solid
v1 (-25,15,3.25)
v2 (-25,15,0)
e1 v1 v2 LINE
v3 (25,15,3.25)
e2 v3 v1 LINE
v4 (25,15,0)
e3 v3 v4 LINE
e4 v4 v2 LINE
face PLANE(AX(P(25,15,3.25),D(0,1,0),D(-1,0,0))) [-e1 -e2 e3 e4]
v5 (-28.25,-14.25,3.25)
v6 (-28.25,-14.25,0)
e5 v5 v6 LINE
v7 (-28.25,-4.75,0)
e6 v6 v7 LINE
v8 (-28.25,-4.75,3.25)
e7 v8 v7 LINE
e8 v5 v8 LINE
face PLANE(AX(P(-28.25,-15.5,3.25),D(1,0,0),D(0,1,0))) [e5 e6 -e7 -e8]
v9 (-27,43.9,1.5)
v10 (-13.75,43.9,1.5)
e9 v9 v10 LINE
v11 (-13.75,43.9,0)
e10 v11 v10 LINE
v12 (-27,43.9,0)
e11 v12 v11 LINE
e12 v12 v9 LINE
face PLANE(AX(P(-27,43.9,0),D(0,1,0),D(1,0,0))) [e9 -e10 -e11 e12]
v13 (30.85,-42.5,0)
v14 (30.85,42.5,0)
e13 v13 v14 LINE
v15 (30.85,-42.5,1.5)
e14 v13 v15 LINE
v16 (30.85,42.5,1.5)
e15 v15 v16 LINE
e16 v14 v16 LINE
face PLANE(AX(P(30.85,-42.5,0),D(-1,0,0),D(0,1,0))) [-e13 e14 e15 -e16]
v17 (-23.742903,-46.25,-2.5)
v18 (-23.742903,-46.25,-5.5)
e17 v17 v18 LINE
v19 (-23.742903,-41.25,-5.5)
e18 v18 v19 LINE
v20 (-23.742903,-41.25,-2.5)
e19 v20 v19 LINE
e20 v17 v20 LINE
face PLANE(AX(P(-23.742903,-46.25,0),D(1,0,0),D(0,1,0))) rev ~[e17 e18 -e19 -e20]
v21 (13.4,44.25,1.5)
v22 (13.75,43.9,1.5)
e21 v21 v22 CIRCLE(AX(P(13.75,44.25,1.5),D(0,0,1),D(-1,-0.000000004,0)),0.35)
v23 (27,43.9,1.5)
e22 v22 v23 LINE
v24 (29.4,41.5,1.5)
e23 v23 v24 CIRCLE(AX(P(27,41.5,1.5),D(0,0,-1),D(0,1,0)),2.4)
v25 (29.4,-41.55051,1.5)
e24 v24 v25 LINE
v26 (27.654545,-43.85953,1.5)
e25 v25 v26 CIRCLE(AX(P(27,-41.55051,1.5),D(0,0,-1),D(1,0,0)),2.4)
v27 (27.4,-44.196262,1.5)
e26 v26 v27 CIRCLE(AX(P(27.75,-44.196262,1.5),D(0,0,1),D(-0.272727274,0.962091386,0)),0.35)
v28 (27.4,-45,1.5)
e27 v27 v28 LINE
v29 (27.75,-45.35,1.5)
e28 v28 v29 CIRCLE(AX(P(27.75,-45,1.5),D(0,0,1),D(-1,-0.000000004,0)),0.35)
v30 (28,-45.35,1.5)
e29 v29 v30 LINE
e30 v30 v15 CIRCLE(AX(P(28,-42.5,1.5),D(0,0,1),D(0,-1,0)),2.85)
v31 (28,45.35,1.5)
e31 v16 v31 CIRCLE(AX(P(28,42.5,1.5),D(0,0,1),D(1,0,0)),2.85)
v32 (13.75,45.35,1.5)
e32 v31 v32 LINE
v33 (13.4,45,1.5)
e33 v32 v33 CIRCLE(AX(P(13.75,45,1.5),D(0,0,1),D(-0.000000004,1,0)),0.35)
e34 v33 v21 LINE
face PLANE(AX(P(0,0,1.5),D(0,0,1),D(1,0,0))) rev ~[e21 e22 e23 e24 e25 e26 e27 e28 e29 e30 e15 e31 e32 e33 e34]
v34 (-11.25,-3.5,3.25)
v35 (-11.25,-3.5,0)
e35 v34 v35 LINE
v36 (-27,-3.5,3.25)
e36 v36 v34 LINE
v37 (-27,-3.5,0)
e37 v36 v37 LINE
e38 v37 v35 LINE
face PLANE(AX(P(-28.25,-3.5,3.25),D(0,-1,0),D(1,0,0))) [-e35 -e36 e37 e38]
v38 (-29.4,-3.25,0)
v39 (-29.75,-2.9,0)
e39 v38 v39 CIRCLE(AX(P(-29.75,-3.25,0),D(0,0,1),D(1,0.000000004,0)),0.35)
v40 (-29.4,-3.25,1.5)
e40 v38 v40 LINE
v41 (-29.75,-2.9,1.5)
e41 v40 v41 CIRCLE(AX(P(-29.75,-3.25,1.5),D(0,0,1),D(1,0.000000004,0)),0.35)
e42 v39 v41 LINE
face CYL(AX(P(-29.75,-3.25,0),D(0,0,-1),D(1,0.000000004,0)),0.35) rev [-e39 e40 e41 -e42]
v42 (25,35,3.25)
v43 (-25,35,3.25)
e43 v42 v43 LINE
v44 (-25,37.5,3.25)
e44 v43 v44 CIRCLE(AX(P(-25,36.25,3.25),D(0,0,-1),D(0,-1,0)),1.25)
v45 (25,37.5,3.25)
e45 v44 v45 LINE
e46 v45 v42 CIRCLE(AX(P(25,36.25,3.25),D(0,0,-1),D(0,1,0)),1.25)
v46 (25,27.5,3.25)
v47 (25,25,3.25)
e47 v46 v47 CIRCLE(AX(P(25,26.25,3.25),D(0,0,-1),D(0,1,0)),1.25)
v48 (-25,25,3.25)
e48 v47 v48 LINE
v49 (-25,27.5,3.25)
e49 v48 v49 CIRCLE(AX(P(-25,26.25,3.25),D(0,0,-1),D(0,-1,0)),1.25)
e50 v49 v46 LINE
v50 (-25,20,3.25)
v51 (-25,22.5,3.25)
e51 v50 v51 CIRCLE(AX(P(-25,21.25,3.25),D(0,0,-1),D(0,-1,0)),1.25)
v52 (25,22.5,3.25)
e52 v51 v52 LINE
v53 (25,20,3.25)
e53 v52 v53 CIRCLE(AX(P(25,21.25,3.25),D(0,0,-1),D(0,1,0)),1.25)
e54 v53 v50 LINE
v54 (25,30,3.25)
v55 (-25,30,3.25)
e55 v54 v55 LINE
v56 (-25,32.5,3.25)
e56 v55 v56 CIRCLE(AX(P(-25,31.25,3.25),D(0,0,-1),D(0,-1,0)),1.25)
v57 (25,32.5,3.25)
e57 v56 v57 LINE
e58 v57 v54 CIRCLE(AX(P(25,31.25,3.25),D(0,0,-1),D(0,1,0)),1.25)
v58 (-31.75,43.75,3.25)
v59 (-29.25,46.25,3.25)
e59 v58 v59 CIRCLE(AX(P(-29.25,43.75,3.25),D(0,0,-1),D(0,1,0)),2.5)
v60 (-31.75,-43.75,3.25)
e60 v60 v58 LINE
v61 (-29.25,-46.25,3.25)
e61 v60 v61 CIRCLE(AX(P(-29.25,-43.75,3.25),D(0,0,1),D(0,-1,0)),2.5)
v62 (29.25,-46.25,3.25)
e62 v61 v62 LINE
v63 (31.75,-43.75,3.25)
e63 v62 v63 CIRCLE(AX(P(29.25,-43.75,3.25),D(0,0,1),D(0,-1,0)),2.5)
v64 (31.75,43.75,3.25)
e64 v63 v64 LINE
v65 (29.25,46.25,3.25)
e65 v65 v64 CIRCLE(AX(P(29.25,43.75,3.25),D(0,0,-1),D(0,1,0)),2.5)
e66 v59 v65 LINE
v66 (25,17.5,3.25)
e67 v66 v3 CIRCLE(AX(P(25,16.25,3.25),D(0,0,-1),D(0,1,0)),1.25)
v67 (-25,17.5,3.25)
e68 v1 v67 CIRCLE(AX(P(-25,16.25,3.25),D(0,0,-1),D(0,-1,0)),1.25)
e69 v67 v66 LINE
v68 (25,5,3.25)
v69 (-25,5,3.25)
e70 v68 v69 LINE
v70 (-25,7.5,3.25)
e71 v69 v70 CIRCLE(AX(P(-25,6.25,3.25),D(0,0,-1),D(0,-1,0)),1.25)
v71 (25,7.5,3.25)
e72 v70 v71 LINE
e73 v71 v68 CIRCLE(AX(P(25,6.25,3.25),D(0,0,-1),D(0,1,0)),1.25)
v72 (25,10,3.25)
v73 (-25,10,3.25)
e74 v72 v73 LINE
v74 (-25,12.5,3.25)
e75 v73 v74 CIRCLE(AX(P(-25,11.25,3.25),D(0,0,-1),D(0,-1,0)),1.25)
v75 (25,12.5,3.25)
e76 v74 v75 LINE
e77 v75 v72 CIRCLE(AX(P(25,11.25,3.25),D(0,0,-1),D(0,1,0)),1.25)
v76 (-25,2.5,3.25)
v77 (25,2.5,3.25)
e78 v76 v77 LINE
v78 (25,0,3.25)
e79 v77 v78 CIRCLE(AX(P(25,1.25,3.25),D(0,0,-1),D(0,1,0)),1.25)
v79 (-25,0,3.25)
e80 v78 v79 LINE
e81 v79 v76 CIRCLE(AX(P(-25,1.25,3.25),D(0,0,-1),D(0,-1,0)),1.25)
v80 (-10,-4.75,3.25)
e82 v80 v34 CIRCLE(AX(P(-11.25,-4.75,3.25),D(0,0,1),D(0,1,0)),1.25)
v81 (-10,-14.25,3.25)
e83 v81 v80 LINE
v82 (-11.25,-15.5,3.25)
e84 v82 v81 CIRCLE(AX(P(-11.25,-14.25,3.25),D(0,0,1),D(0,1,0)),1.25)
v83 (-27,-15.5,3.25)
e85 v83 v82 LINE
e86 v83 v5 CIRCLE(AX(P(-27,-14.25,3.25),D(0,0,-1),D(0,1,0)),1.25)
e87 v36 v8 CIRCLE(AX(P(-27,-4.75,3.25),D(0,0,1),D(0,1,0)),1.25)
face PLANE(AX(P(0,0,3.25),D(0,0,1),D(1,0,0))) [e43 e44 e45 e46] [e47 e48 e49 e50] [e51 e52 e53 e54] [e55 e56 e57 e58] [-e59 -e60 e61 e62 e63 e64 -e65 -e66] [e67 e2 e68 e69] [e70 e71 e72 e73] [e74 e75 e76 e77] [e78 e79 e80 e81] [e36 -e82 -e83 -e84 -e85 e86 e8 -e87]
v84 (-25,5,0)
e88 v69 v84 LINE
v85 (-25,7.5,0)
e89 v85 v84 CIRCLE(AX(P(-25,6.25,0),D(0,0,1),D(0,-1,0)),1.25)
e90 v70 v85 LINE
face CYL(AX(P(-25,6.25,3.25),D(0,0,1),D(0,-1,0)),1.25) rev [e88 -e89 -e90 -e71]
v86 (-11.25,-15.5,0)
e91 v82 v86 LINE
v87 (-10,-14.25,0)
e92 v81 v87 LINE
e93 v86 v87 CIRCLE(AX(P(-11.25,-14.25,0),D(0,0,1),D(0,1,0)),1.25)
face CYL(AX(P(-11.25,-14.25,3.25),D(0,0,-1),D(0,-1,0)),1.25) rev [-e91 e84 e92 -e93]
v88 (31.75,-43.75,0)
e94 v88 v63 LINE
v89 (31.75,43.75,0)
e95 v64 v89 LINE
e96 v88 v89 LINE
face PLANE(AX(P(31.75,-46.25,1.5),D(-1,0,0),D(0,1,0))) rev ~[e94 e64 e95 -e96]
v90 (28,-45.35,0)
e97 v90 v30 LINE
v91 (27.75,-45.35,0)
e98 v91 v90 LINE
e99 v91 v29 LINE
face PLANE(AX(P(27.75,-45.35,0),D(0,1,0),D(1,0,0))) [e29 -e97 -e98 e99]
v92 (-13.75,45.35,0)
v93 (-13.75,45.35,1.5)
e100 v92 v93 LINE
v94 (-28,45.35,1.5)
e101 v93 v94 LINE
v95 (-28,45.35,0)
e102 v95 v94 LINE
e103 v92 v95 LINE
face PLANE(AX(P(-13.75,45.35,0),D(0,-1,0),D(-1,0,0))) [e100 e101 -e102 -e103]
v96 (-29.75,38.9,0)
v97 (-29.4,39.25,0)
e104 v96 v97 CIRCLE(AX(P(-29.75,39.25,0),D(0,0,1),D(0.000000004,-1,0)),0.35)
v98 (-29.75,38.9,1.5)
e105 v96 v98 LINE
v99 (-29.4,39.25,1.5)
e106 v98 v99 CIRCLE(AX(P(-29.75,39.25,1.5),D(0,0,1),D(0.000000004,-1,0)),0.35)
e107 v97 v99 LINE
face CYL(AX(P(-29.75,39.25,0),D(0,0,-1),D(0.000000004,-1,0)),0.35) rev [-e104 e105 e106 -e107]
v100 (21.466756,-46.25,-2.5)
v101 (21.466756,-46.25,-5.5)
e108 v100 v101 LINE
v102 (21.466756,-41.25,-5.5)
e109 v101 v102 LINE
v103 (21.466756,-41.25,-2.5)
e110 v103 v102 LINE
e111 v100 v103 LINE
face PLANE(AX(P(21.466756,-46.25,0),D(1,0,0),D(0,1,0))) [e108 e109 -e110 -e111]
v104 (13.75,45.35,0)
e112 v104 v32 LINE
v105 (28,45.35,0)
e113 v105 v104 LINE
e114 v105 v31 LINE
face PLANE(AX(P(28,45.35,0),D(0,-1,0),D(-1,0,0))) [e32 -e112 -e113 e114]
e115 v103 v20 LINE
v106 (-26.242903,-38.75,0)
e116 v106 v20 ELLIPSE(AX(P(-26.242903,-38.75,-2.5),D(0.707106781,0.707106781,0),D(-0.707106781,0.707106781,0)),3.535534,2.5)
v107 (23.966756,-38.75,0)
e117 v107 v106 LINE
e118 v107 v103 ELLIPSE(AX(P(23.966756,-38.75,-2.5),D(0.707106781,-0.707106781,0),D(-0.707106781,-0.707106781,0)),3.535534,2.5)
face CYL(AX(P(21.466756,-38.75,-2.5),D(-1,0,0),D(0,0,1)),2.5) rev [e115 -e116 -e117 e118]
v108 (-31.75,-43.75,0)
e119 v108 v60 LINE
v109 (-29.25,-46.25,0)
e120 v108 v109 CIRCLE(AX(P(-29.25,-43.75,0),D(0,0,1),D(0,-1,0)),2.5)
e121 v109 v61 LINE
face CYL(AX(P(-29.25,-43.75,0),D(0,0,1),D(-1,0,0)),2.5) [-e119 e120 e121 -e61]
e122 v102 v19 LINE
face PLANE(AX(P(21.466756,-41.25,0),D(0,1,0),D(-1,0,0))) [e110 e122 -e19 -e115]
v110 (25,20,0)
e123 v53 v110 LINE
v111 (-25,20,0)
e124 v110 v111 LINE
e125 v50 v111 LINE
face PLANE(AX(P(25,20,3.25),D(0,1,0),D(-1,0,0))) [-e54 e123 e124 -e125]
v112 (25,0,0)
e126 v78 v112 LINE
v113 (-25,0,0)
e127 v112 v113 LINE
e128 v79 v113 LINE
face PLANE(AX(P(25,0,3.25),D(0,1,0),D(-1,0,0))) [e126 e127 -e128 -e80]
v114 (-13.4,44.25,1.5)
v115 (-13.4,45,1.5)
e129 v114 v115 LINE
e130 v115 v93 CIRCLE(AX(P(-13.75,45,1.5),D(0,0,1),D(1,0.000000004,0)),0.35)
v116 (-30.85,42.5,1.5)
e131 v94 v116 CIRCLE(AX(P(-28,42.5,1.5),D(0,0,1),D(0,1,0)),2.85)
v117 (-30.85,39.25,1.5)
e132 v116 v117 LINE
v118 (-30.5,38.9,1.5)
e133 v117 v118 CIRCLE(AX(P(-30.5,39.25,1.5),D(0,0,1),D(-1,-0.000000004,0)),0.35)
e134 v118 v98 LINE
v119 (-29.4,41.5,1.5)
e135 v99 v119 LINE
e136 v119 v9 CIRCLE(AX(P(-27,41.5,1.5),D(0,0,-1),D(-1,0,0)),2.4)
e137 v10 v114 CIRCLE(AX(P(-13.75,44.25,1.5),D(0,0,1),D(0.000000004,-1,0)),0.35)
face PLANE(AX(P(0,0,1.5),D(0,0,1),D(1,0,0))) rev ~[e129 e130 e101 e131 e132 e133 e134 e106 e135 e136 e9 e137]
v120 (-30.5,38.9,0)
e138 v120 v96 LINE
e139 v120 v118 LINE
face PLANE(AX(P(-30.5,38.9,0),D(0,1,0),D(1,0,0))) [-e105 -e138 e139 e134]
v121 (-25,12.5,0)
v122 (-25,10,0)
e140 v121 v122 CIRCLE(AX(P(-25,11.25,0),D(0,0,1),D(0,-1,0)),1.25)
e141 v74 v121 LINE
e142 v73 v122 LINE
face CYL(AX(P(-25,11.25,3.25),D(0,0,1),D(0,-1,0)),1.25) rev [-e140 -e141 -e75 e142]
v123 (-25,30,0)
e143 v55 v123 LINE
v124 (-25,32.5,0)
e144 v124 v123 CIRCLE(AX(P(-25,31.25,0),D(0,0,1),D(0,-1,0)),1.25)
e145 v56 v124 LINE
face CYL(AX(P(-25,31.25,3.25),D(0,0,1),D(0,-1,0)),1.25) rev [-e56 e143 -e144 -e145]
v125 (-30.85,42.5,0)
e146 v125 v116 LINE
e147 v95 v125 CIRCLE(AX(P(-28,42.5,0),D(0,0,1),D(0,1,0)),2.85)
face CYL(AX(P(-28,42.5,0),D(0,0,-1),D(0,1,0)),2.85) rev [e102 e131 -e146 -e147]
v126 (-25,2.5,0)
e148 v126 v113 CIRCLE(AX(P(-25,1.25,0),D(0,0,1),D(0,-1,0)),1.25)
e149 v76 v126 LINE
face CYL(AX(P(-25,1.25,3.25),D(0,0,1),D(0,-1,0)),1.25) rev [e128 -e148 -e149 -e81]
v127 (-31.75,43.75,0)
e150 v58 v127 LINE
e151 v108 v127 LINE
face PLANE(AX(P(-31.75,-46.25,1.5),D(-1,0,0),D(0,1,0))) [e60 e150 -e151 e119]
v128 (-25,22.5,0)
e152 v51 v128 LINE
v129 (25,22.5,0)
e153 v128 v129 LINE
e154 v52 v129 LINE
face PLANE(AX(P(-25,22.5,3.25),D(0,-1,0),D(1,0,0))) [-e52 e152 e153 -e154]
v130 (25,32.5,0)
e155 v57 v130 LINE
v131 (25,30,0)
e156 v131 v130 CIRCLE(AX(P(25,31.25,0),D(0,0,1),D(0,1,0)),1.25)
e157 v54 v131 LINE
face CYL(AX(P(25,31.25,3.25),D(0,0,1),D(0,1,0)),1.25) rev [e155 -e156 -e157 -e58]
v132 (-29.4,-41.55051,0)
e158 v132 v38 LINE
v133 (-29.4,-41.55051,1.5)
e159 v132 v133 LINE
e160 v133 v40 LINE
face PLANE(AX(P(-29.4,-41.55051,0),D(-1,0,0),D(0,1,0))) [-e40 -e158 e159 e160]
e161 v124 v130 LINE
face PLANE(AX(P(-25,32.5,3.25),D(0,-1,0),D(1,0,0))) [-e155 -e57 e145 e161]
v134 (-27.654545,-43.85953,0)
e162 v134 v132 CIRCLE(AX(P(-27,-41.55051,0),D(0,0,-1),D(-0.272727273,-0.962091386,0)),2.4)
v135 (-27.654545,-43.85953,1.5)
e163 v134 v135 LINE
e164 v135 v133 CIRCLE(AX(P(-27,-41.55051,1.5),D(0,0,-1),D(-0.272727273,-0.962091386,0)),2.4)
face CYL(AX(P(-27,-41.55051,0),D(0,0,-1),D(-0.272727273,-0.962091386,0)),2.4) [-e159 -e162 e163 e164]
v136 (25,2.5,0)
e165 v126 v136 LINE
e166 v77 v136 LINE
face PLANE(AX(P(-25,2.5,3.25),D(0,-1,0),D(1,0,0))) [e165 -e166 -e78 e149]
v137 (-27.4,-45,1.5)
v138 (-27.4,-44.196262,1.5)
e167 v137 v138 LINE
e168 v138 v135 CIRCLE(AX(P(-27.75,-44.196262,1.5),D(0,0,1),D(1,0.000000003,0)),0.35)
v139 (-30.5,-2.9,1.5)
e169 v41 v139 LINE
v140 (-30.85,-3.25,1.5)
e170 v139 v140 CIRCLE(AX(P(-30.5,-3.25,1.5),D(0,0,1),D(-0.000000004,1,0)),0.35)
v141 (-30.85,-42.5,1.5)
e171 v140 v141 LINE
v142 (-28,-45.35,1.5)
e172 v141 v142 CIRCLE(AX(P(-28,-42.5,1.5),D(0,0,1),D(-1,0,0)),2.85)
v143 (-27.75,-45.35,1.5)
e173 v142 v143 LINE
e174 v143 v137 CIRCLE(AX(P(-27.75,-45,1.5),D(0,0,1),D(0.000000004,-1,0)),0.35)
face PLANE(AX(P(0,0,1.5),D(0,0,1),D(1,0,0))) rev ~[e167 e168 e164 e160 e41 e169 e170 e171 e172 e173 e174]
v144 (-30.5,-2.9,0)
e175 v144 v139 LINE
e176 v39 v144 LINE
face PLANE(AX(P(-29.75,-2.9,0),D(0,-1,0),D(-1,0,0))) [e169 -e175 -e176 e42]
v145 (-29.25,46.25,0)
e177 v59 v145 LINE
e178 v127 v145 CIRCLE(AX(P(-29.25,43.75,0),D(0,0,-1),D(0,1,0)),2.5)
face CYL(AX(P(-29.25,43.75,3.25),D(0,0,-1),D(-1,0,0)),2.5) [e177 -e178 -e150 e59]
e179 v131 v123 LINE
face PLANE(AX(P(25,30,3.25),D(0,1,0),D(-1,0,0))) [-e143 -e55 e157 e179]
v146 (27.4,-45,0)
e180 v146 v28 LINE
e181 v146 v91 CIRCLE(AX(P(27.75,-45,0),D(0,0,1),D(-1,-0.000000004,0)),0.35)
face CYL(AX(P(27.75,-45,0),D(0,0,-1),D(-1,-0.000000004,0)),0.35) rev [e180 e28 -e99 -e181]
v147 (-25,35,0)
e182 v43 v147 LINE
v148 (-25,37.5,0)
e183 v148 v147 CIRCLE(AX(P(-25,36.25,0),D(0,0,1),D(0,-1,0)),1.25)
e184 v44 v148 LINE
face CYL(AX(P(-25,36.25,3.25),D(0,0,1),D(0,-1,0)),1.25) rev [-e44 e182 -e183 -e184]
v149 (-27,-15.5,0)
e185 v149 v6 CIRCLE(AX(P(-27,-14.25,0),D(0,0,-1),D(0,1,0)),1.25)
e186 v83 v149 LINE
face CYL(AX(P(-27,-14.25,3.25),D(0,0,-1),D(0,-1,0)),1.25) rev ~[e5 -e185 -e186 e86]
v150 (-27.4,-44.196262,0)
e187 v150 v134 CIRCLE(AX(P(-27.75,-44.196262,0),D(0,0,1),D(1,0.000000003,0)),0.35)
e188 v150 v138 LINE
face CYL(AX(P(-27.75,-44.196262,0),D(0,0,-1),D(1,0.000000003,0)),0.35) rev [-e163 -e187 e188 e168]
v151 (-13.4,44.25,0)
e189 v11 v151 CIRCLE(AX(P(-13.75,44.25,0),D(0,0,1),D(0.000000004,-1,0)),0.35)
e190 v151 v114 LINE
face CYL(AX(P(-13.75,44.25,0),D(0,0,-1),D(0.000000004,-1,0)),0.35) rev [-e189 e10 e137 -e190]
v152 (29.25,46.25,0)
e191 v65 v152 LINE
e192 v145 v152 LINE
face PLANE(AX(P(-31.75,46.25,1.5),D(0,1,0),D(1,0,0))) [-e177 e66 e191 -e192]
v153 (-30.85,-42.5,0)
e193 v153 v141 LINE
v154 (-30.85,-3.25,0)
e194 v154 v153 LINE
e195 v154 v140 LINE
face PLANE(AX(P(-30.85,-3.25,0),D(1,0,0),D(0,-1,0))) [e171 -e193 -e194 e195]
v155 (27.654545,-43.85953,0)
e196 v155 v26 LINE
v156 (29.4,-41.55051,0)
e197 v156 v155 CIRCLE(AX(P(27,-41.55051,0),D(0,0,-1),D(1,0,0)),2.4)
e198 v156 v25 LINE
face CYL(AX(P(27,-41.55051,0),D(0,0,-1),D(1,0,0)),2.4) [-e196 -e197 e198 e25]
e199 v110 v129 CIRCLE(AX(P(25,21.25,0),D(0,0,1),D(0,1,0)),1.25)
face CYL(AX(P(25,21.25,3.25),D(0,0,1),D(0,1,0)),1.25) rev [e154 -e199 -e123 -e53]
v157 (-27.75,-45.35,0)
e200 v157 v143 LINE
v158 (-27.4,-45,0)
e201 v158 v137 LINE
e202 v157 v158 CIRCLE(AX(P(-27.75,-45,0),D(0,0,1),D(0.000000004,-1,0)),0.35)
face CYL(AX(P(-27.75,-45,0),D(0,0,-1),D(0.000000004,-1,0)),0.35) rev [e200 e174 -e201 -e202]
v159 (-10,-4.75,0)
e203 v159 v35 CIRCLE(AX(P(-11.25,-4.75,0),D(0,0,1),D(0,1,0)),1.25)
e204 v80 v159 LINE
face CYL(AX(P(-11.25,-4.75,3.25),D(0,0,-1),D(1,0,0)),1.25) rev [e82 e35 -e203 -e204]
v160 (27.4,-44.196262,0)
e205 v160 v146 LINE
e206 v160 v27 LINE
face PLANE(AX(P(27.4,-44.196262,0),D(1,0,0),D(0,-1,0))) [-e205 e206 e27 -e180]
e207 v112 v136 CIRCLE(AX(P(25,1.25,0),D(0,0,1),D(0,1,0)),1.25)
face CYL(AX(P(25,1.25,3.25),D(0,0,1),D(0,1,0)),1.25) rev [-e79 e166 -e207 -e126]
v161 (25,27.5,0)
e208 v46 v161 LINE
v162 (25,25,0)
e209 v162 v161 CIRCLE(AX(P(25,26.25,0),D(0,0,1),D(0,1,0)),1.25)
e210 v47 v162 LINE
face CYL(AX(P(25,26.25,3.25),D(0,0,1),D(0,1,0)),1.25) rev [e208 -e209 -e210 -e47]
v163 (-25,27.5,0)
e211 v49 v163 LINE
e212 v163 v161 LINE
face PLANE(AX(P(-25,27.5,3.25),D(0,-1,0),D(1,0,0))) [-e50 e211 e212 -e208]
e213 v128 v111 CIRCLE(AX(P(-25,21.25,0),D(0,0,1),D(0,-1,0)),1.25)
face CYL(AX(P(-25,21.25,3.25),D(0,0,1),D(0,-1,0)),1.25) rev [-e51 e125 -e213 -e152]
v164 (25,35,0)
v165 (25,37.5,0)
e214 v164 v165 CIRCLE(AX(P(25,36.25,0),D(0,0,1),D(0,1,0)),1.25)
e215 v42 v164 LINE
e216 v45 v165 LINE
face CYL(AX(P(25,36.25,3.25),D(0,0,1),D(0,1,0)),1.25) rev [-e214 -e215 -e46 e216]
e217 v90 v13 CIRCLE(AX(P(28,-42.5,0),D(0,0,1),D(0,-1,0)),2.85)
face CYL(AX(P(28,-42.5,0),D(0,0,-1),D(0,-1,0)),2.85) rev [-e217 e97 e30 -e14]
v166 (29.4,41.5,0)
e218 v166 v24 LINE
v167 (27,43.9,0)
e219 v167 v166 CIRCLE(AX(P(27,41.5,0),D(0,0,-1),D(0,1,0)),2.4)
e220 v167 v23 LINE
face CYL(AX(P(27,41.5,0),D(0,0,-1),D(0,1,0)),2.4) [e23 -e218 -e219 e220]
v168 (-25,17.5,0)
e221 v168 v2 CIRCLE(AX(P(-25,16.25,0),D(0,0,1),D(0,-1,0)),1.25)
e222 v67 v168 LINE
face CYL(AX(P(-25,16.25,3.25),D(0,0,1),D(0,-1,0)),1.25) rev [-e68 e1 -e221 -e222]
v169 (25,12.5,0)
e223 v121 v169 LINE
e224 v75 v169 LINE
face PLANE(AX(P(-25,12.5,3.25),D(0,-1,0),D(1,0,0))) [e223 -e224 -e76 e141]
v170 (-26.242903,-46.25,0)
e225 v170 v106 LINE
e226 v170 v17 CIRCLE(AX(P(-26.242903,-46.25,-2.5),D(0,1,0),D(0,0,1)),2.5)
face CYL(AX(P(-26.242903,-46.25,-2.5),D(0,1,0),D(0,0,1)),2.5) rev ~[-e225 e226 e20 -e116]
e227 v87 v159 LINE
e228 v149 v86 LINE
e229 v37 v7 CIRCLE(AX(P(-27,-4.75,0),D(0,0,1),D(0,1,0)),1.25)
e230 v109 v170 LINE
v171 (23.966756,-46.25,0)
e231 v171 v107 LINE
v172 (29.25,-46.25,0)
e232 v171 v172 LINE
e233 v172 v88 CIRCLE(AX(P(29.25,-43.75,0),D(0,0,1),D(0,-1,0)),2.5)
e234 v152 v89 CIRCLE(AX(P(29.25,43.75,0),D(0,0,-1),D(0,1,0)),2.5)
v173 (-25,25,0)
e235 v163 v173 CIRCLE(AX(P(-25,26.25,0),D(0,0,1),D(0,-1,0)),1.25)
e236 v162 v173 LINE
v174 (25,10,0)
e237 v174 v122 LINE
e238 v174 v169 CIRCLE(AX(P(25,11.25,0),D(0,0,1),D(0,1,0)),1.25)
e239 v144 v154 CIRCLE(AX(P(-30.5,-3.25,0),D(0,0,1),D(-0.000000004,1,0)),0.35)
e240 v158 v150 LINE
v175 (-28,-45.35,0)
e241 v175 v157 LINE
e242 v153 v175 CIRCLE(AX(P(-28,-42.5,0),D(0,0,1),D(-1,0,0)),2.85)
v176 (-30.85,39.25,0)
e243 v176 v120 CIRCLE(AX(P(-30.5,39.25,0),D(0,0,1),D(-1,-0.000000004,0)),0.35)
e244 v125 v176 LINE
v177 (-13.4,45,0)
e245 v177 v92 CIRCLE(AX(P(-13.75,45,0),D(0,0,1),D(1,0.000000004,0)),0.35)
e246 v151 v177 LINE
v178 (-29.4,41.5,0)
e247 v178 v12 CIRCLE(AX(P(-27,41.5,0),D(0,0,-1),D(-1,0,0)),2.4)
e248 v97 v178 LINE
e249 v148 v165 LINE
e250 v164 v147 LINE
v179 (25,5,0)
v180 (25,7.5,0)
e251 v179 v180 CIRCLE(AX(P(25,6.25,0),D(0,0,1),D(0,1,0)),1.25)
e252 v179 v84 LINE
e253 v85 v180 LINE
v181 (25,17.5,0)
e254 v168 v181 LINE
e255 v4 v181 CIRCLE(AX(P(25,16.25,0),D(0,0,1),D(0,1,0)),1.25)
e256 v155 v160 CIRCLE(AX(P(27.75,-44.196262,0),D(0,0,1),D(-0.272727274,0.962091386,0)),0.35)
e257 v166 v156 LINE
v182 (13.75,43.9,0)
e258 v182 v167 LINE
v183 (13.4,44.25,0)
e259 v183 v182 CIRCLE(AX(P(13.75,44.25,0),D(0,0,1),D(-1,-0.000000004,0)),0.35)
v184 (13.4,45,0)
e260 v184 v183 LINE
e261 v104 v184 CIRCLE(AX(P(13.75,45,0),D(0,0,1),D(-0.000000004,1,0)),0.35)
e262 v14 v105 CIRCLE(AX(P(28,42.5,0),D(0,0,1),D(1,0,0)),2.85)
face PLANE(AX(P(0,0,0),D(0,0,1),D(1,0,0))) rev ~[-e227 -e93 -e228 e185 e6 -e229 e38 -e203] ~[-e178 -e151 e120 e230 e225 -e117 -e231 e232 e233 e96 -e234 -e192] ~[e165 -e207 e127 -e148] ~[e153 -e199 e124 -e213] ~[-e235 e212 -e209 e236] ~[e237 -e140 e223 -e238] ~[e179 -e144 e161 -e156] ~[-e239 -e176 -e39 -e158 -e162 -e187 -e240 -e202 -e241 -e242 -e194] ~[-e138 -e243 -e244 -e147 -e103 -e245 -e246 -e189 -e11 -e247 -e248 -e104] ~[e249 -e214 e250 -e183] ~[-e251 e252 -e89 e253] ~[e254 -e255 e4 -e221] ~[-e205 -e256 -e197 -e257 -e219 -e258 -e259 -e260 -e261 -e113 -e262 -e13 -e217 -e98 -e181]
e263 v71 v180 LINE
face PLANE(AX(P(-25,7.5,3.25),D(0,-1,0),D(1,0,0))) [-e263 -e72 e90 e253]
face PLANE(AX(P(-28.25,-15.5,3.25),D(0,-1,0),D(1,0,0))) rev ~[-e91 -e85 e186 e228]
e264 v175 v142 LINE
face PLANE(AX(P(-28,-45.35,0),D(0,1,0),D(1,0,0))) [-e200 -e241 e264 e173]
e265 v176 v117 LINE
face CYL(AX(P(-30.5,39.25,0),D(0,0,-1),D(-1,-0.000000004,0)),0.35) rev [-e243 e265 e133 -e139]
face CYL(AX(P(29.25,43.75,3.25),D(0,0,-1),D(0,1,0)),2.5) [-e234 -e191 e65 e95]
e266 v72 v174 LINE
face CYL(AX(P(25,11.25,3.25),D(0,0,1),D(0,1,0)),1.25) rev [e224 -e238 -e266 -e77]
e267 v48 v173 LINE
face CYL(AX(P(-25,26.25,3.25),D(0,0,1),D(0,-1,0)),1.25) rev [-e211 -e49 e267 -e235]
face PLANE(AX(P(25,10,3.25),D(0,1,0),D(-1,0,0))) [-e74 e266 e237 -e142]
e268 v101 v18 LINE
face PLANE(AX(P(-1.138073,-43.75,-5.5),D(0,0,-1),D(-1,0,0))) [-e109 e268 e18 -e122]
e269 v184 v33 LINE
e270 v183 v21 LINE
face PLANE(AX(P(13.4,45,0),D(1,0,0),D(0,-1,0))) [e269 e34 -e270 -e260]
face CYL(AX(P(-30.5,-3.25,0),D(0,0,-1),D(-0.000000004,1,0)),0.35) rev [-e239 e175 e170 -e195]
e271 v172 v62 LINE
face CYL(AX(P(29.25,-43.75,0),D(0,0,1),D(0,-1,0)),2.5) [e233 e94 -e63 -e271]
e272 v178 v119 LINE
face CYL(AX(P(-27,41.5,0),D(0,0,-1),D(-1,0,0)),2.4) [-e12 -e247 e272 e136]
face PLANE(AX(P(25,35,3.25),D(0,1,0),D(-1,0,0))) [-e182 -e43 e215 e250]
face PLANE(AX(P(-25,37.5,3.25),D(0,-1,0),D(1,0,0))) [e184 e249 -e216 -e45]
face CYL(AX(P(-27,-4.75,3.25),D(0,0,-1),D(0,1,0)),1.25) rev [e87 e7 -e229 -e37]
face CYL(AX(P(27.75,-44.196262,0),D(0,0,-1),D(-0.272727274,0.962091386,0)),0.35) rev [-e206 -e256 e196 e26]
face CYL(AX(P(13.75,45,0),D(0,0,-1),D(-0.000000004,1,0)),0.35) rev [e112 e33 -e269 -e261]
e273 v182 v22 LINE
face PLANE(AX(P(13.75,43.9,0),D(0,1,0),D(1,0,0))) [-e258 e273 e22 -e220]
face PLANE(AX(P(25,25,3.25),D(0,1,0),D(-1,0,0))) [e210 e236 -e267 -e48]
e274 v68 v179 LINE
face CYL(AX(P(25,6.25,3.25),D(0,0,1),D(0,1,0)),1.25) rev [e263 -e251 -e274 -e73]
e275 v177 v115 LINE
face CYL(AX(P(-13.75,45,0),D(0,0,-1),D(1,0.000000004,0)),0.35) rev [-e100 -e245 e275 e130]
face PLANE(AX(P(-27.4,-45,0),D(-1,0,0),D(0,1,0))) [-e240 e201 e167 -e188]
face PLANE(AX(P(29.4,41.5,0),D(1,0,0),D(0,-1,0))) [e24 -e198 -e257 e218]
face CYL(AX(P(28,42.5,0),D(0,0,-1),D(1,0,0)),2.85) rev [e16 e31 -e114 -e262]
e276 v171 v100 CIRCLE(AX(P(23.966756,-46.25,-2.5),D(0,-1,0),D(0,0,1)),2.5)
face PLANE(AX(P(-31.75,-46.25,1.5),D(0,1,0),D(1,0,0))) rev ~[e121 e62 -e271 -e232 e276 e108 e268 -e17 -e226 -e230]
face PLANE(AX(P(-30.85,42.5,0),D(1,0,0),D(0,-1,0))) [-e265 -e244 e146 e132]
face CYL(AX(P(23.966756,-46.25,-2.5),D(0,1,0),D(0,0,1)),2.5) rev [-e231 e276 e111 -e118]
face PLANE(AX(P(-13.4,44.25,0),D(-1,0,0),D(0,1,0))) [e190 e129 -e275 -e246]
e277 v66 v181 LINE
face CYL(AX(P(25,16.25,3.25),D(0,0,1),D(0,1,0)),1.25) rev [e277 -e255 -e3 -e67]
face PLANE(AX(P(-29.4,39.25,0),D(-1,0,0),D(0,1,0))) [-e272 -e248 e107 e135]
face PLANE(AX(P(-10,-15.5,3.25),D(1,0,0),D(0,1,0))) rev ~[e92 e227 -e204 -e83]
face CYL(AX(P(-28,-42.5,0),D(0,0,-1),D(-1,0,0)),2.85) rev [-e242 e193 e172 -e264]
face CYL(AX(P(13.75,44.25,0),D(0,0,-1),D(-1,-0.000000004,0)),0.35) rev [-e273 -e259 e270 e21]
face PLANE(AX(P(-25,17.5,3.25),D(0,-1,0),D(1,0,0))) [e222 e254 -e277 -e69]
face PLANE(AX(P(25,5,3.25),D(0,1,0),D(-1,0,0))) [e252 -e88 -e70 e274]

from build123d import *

# Parameters (mm, degrees)
SKETCH1_W           = 63.5
SKETCH1_H           = 92.5
BOSS_EXTRUDE1_DEPTH = 1.5
BOSS_EXTRUDE2_START = 1.5
SKETCH1_2_W         = 63.5
SKETCH1_2_H         = 92.5
BOSS_EXTRUDE2_DEPTH = 1.75
SKETCH3_W           = 18.25
SKETCH3_H           = 12
CUT_EXTRUDE1_DEPTH  = 57.193304761
FILLET1_R           = 2.5
FILLET2_R           = 1.25
CUT_EXTRUDE2_DEPTH  = 57.193304761
SKETCH5_W           = 45.209659229
SKETCH5_H           = 5
BOSS_EXTRUDE3_DEPTH = 5.5
FILLET3_R           = 2.5


with BuildPart() as part:
    # Sketch1 → Boss-Extrude1 (new body)
    with BuildSketch(Plane.XY):
        Rectangle(SKETCH1_W, SKETCH1_H)
        with BuildLine():
            Line((-27, 43.9), (-13.75, 43.9))
            ThreePointArc((-13.75, 43.9), (-13.502512627, 44.002512627), (-13.4, 44.25))
            Line((-13.4, 44.25), (-13.4, 45))
            ThreePointArc((-13.4, 45), (-13.502512627, 45.247487373), (-13.75, 45.35))
            Line((-13.75, 45.35), (-28, 45.35))
            ThreePointArc((-28, 45.35), (-30.015254326, 44.515254326), (-30.85, 42.5))
            Line((-30.85, 42.5), (-30.85, 39.25))
            ThreePointArc((-30.85, 39.25), (-30.747487373, 39.002512627), (-30.5, 38.9))
            Line((-30.5, 38.9), (-29.75, 38.9))
            ThreePointArc((-29.75, 38.9), (-29.502512627, 39.002512627), (-29.4, 39.25))
            Line((-29.4, 39.25), (-29.4, 41.5))
            ThreePointArc((-29.4, 41.5), (-28.697056275, 43.197056275), (-27, 43.9))
        make_face(mode=Mode.SUBTRACT)
        with BuildLine():
            Line((30.85, -42.5), (30.85, 42.5))
            ThreePointArc((30.85, 42.5), (30.015254326, 44.515254326), (28, 45.35))
            Line((28, 45.35), (13.75, 45.35))
            ThreePointArc((13.75, 45.35), (13.502512627, 45.247487373), (13.4, 45))
            Line((13.4, 45), (13.4, 44.25))
            ThreePointArc((13.4, 44.25), (13.502512627, 44.002512627), (13.75, 43.9))
            Line((13.75, 43.9), (27, 43.9))
            ThreePointArc((27, 43.9), (28.697056275, 43.197056275), (29.4, 41.5))
            Line((29.4, 41.5), (29.4, -41.550510257))
            ThreePointArc((29.4, -41.550510257), (28.914537685, -42.997764711), (27.654545455, -43.859529583))
            ThreePointArc((27.654545455, -43.859529583), (27.470796588, -43.985203627), (27.4, -44.196261568))
            Line((27.4, -44.196261568), (27.4, -45))
            ThreePointArc((27.4, -45), (27.502512627, -45.247487373), (27.75, -45.35))
            Line((27.75, -45.35), (28, -45.35))
            ThreePointArc((28, -45.35), (30.015254326, -44.515254326), (30.85, -42.5))
        make_face(mode=Mode.SUBTRACT)
        with BuildLine():
            Line((-29.4, -41.550510257), (-29.4, -3.25))
            ThreePointArc((-29.4, -3.25), (-29.502512627, -3.002512627), (-29.75, -2.9))
            Line((-29.75, -2.9), (-30.5, -2.9))
            ThreePointArc((-30.5, -2.9), (-30.747487373, -3.002512627), (-30.85, -3.25))
            Line((-30.85, -3.25), (-30.85, -42.5))
            ThreePointArc((-30.85, -42.5), (-30.015254326, -44.515254326), (-28, -45.35))
            Line((-28, -45.35), (-27.75, -45.35))
            ThreePointArc((-27.75, -45.35), (-27.502512627, -45.247487373), (-27.4, -45))
            Line((-27.4, -45), (-27.4, -44.196261568))
            ThreePointArc((-27.4, -44.196261568), (-27.470796588, -43.985203627), (-27.654545455, -43.859529583))
            ThreePointArc((-27.654545455, -43.859529583), (-28.914537685, -42.997764711), (-29.4, -41.550510257))
        make_face(mode=Mode.SUBTRACT)
    extrude(amount=BOSS_EXTRUDE1_DEPTH)

    # Sketch1<2> → Boss-Extrude2 (add)
    with BuildSketch(Plane.XY.offset(BOSS_EXTRUDE2_START)):
        Rectangle(SKETCH1_2_W, SKETCH1_2_H)
    extrude(amount=BOSS_EXTRUDE2_DEPTH)

    # Sketch3 → Cut-Extrude1 (cut, through all)
    with BuildSketch(Plane.XY.offset(3.25)):
        with Locations((-19.125, -9.5)):
            Rectangle(SKETCH3_W, SKETCH3_H)
    extrude(amount=-CUT_EXTRUDE1_DEPTH, mode=Mode.SUBTRACT)

    # Fillet1
    fillet1_edges = [part.edges().sort_by_distance(p)[0] for p in [
        (-31.75, 46.25, 1.625),
        (31.75, 46.25, 1.625),
        (31.75, -46.25, 1.625),
        (-31.75, -46.25, 1.625),
    ]]
    fillet(fillet1_edges, radius=FILLET1_R)

    # Fillet2
    fillet2_edges = [part.edges().sort_by_distance(p)[0] for p in [
        (-28.25, -15.5, 1.625),
        (-28.25, -3.5, 1.625),
        (-10, -3.5, 1.625),
        (-10, -15.5, 1.625),
    ]]
    fillet(fillet2_edges, radius=FILLET2_R)

    # Sketch4 → Cut-Extrude2 (cut, through all)
    with BuildSketch(Plane.XY.offset(3.25)):
        with BuildLine():
            Line((-25, 37.5), (25, 37.5))
            ThreePointArc((25, 37.5), (26.25, 36.25), (25, 35))
            Line((25, 35), (-25, 35))
            ThreePointArc((-25, 35), (-26.25, 36.25), (-25, 37.5))
        make_face()
        with BuildLine():
            Line((-25, 32.5), (25, 32.5))
            ThreePointArc((25, 32.5), (26.25, 31.25), (25, 30))
            Line((25, 30), (-25, 30))
            ThreePointArc((-25, 30), (-26.25, 31.25), (-25, 32.5))
        make_face()
        with BuildLine():
            Line((-25, 27.5), (25, 27.5))
            ThreePointArc((25, 27.5), (26.25, 26.25), (25, 25))
            Line((25, 25), (-25, 25))
            ThreePointArc((-25, 25), (-26.25, 26.25), (-25, 27.5))
        make_face()
        with BuildLine():
            Line((-25, 22.5), (25, 22.5))
            ThreePointArc((25, 22.5), (26.25, 21.25), (25, 20))
            Line((25, 20), (-25, 20))
            ThreePointArc((-25, 20), (-26.25, 21.25), (-25, 22.5))
        make_face()
        with BuildLine():
            Line((-25, 17.5), (25, 17.5))
            ThreePointArc((25, 17.5), (26.25, 16.25), (25, 15))
            Line((25, 15), (-25, 15))
            ThreePointArc((-25, 15), (-26.25, 16.25), (-25, 17.5))
        make_face()
        with BuildLine():
            Line((-25, 12.5), (25, 12.5))
            ThreePointArc((25, 12.5), (26.25, 11.25), (25, 10))
            Line((25, 10), (-25, 10))
            ThreePointArc((-25, 10), (-26.25, 11.25), (-25, 12.5))
        make_face()
        with BuildLine():
            Line((-25, 7.5), (25, 7.5))
            ThreePointArc((25, 7.5), (26.25, 6.25), (25, 5))
            Line((25, 5), (-25, 5))
            ThreePointArc((-25, 5), (-26.25, 6.25), (-25, 7.5))
        make_face()
        with BuildLine():
            Line((-25, 2.5), (25, 2.5))
            ThreePointArc((25, 2.5), (26.25, 1.25), (25, 0))
            Line((25, 0), (-25, 0))
            ThreePointArc((-25, 0), (-26.25, 1.25), (-25, 2.5))
        make_face()
    extrude(amount=-CUT_EXTRUDE2_DEPTH, mode=Mode.SUBTRACT)

    # Sketch5 → Boss-Extrude3 (add)
    with BuildSketch(Plane(origin=(0, 0, 0), x_dir=(-1, 0, 0), z_dir=(0, 0, -1))):
        with Locations((1.138073126, -43.75)):
            Rectangle(SKETCH5_W, SKETCH5_H)
    extrude(amount=BOSS_EXTRUDE3_DEPTH)

    # Fillet3
    fillet3_edges = [part.edges().sort_by_distance(p)[0] for p in [
        (-23.74290274, -43.75, 0),
        (-1.138073126, -41.25, 0),
        (21.466756489, -43.75, 0),
    ]]
    fillet(fillet3_edges, radius=FILLET3_R)


solid = part.part
